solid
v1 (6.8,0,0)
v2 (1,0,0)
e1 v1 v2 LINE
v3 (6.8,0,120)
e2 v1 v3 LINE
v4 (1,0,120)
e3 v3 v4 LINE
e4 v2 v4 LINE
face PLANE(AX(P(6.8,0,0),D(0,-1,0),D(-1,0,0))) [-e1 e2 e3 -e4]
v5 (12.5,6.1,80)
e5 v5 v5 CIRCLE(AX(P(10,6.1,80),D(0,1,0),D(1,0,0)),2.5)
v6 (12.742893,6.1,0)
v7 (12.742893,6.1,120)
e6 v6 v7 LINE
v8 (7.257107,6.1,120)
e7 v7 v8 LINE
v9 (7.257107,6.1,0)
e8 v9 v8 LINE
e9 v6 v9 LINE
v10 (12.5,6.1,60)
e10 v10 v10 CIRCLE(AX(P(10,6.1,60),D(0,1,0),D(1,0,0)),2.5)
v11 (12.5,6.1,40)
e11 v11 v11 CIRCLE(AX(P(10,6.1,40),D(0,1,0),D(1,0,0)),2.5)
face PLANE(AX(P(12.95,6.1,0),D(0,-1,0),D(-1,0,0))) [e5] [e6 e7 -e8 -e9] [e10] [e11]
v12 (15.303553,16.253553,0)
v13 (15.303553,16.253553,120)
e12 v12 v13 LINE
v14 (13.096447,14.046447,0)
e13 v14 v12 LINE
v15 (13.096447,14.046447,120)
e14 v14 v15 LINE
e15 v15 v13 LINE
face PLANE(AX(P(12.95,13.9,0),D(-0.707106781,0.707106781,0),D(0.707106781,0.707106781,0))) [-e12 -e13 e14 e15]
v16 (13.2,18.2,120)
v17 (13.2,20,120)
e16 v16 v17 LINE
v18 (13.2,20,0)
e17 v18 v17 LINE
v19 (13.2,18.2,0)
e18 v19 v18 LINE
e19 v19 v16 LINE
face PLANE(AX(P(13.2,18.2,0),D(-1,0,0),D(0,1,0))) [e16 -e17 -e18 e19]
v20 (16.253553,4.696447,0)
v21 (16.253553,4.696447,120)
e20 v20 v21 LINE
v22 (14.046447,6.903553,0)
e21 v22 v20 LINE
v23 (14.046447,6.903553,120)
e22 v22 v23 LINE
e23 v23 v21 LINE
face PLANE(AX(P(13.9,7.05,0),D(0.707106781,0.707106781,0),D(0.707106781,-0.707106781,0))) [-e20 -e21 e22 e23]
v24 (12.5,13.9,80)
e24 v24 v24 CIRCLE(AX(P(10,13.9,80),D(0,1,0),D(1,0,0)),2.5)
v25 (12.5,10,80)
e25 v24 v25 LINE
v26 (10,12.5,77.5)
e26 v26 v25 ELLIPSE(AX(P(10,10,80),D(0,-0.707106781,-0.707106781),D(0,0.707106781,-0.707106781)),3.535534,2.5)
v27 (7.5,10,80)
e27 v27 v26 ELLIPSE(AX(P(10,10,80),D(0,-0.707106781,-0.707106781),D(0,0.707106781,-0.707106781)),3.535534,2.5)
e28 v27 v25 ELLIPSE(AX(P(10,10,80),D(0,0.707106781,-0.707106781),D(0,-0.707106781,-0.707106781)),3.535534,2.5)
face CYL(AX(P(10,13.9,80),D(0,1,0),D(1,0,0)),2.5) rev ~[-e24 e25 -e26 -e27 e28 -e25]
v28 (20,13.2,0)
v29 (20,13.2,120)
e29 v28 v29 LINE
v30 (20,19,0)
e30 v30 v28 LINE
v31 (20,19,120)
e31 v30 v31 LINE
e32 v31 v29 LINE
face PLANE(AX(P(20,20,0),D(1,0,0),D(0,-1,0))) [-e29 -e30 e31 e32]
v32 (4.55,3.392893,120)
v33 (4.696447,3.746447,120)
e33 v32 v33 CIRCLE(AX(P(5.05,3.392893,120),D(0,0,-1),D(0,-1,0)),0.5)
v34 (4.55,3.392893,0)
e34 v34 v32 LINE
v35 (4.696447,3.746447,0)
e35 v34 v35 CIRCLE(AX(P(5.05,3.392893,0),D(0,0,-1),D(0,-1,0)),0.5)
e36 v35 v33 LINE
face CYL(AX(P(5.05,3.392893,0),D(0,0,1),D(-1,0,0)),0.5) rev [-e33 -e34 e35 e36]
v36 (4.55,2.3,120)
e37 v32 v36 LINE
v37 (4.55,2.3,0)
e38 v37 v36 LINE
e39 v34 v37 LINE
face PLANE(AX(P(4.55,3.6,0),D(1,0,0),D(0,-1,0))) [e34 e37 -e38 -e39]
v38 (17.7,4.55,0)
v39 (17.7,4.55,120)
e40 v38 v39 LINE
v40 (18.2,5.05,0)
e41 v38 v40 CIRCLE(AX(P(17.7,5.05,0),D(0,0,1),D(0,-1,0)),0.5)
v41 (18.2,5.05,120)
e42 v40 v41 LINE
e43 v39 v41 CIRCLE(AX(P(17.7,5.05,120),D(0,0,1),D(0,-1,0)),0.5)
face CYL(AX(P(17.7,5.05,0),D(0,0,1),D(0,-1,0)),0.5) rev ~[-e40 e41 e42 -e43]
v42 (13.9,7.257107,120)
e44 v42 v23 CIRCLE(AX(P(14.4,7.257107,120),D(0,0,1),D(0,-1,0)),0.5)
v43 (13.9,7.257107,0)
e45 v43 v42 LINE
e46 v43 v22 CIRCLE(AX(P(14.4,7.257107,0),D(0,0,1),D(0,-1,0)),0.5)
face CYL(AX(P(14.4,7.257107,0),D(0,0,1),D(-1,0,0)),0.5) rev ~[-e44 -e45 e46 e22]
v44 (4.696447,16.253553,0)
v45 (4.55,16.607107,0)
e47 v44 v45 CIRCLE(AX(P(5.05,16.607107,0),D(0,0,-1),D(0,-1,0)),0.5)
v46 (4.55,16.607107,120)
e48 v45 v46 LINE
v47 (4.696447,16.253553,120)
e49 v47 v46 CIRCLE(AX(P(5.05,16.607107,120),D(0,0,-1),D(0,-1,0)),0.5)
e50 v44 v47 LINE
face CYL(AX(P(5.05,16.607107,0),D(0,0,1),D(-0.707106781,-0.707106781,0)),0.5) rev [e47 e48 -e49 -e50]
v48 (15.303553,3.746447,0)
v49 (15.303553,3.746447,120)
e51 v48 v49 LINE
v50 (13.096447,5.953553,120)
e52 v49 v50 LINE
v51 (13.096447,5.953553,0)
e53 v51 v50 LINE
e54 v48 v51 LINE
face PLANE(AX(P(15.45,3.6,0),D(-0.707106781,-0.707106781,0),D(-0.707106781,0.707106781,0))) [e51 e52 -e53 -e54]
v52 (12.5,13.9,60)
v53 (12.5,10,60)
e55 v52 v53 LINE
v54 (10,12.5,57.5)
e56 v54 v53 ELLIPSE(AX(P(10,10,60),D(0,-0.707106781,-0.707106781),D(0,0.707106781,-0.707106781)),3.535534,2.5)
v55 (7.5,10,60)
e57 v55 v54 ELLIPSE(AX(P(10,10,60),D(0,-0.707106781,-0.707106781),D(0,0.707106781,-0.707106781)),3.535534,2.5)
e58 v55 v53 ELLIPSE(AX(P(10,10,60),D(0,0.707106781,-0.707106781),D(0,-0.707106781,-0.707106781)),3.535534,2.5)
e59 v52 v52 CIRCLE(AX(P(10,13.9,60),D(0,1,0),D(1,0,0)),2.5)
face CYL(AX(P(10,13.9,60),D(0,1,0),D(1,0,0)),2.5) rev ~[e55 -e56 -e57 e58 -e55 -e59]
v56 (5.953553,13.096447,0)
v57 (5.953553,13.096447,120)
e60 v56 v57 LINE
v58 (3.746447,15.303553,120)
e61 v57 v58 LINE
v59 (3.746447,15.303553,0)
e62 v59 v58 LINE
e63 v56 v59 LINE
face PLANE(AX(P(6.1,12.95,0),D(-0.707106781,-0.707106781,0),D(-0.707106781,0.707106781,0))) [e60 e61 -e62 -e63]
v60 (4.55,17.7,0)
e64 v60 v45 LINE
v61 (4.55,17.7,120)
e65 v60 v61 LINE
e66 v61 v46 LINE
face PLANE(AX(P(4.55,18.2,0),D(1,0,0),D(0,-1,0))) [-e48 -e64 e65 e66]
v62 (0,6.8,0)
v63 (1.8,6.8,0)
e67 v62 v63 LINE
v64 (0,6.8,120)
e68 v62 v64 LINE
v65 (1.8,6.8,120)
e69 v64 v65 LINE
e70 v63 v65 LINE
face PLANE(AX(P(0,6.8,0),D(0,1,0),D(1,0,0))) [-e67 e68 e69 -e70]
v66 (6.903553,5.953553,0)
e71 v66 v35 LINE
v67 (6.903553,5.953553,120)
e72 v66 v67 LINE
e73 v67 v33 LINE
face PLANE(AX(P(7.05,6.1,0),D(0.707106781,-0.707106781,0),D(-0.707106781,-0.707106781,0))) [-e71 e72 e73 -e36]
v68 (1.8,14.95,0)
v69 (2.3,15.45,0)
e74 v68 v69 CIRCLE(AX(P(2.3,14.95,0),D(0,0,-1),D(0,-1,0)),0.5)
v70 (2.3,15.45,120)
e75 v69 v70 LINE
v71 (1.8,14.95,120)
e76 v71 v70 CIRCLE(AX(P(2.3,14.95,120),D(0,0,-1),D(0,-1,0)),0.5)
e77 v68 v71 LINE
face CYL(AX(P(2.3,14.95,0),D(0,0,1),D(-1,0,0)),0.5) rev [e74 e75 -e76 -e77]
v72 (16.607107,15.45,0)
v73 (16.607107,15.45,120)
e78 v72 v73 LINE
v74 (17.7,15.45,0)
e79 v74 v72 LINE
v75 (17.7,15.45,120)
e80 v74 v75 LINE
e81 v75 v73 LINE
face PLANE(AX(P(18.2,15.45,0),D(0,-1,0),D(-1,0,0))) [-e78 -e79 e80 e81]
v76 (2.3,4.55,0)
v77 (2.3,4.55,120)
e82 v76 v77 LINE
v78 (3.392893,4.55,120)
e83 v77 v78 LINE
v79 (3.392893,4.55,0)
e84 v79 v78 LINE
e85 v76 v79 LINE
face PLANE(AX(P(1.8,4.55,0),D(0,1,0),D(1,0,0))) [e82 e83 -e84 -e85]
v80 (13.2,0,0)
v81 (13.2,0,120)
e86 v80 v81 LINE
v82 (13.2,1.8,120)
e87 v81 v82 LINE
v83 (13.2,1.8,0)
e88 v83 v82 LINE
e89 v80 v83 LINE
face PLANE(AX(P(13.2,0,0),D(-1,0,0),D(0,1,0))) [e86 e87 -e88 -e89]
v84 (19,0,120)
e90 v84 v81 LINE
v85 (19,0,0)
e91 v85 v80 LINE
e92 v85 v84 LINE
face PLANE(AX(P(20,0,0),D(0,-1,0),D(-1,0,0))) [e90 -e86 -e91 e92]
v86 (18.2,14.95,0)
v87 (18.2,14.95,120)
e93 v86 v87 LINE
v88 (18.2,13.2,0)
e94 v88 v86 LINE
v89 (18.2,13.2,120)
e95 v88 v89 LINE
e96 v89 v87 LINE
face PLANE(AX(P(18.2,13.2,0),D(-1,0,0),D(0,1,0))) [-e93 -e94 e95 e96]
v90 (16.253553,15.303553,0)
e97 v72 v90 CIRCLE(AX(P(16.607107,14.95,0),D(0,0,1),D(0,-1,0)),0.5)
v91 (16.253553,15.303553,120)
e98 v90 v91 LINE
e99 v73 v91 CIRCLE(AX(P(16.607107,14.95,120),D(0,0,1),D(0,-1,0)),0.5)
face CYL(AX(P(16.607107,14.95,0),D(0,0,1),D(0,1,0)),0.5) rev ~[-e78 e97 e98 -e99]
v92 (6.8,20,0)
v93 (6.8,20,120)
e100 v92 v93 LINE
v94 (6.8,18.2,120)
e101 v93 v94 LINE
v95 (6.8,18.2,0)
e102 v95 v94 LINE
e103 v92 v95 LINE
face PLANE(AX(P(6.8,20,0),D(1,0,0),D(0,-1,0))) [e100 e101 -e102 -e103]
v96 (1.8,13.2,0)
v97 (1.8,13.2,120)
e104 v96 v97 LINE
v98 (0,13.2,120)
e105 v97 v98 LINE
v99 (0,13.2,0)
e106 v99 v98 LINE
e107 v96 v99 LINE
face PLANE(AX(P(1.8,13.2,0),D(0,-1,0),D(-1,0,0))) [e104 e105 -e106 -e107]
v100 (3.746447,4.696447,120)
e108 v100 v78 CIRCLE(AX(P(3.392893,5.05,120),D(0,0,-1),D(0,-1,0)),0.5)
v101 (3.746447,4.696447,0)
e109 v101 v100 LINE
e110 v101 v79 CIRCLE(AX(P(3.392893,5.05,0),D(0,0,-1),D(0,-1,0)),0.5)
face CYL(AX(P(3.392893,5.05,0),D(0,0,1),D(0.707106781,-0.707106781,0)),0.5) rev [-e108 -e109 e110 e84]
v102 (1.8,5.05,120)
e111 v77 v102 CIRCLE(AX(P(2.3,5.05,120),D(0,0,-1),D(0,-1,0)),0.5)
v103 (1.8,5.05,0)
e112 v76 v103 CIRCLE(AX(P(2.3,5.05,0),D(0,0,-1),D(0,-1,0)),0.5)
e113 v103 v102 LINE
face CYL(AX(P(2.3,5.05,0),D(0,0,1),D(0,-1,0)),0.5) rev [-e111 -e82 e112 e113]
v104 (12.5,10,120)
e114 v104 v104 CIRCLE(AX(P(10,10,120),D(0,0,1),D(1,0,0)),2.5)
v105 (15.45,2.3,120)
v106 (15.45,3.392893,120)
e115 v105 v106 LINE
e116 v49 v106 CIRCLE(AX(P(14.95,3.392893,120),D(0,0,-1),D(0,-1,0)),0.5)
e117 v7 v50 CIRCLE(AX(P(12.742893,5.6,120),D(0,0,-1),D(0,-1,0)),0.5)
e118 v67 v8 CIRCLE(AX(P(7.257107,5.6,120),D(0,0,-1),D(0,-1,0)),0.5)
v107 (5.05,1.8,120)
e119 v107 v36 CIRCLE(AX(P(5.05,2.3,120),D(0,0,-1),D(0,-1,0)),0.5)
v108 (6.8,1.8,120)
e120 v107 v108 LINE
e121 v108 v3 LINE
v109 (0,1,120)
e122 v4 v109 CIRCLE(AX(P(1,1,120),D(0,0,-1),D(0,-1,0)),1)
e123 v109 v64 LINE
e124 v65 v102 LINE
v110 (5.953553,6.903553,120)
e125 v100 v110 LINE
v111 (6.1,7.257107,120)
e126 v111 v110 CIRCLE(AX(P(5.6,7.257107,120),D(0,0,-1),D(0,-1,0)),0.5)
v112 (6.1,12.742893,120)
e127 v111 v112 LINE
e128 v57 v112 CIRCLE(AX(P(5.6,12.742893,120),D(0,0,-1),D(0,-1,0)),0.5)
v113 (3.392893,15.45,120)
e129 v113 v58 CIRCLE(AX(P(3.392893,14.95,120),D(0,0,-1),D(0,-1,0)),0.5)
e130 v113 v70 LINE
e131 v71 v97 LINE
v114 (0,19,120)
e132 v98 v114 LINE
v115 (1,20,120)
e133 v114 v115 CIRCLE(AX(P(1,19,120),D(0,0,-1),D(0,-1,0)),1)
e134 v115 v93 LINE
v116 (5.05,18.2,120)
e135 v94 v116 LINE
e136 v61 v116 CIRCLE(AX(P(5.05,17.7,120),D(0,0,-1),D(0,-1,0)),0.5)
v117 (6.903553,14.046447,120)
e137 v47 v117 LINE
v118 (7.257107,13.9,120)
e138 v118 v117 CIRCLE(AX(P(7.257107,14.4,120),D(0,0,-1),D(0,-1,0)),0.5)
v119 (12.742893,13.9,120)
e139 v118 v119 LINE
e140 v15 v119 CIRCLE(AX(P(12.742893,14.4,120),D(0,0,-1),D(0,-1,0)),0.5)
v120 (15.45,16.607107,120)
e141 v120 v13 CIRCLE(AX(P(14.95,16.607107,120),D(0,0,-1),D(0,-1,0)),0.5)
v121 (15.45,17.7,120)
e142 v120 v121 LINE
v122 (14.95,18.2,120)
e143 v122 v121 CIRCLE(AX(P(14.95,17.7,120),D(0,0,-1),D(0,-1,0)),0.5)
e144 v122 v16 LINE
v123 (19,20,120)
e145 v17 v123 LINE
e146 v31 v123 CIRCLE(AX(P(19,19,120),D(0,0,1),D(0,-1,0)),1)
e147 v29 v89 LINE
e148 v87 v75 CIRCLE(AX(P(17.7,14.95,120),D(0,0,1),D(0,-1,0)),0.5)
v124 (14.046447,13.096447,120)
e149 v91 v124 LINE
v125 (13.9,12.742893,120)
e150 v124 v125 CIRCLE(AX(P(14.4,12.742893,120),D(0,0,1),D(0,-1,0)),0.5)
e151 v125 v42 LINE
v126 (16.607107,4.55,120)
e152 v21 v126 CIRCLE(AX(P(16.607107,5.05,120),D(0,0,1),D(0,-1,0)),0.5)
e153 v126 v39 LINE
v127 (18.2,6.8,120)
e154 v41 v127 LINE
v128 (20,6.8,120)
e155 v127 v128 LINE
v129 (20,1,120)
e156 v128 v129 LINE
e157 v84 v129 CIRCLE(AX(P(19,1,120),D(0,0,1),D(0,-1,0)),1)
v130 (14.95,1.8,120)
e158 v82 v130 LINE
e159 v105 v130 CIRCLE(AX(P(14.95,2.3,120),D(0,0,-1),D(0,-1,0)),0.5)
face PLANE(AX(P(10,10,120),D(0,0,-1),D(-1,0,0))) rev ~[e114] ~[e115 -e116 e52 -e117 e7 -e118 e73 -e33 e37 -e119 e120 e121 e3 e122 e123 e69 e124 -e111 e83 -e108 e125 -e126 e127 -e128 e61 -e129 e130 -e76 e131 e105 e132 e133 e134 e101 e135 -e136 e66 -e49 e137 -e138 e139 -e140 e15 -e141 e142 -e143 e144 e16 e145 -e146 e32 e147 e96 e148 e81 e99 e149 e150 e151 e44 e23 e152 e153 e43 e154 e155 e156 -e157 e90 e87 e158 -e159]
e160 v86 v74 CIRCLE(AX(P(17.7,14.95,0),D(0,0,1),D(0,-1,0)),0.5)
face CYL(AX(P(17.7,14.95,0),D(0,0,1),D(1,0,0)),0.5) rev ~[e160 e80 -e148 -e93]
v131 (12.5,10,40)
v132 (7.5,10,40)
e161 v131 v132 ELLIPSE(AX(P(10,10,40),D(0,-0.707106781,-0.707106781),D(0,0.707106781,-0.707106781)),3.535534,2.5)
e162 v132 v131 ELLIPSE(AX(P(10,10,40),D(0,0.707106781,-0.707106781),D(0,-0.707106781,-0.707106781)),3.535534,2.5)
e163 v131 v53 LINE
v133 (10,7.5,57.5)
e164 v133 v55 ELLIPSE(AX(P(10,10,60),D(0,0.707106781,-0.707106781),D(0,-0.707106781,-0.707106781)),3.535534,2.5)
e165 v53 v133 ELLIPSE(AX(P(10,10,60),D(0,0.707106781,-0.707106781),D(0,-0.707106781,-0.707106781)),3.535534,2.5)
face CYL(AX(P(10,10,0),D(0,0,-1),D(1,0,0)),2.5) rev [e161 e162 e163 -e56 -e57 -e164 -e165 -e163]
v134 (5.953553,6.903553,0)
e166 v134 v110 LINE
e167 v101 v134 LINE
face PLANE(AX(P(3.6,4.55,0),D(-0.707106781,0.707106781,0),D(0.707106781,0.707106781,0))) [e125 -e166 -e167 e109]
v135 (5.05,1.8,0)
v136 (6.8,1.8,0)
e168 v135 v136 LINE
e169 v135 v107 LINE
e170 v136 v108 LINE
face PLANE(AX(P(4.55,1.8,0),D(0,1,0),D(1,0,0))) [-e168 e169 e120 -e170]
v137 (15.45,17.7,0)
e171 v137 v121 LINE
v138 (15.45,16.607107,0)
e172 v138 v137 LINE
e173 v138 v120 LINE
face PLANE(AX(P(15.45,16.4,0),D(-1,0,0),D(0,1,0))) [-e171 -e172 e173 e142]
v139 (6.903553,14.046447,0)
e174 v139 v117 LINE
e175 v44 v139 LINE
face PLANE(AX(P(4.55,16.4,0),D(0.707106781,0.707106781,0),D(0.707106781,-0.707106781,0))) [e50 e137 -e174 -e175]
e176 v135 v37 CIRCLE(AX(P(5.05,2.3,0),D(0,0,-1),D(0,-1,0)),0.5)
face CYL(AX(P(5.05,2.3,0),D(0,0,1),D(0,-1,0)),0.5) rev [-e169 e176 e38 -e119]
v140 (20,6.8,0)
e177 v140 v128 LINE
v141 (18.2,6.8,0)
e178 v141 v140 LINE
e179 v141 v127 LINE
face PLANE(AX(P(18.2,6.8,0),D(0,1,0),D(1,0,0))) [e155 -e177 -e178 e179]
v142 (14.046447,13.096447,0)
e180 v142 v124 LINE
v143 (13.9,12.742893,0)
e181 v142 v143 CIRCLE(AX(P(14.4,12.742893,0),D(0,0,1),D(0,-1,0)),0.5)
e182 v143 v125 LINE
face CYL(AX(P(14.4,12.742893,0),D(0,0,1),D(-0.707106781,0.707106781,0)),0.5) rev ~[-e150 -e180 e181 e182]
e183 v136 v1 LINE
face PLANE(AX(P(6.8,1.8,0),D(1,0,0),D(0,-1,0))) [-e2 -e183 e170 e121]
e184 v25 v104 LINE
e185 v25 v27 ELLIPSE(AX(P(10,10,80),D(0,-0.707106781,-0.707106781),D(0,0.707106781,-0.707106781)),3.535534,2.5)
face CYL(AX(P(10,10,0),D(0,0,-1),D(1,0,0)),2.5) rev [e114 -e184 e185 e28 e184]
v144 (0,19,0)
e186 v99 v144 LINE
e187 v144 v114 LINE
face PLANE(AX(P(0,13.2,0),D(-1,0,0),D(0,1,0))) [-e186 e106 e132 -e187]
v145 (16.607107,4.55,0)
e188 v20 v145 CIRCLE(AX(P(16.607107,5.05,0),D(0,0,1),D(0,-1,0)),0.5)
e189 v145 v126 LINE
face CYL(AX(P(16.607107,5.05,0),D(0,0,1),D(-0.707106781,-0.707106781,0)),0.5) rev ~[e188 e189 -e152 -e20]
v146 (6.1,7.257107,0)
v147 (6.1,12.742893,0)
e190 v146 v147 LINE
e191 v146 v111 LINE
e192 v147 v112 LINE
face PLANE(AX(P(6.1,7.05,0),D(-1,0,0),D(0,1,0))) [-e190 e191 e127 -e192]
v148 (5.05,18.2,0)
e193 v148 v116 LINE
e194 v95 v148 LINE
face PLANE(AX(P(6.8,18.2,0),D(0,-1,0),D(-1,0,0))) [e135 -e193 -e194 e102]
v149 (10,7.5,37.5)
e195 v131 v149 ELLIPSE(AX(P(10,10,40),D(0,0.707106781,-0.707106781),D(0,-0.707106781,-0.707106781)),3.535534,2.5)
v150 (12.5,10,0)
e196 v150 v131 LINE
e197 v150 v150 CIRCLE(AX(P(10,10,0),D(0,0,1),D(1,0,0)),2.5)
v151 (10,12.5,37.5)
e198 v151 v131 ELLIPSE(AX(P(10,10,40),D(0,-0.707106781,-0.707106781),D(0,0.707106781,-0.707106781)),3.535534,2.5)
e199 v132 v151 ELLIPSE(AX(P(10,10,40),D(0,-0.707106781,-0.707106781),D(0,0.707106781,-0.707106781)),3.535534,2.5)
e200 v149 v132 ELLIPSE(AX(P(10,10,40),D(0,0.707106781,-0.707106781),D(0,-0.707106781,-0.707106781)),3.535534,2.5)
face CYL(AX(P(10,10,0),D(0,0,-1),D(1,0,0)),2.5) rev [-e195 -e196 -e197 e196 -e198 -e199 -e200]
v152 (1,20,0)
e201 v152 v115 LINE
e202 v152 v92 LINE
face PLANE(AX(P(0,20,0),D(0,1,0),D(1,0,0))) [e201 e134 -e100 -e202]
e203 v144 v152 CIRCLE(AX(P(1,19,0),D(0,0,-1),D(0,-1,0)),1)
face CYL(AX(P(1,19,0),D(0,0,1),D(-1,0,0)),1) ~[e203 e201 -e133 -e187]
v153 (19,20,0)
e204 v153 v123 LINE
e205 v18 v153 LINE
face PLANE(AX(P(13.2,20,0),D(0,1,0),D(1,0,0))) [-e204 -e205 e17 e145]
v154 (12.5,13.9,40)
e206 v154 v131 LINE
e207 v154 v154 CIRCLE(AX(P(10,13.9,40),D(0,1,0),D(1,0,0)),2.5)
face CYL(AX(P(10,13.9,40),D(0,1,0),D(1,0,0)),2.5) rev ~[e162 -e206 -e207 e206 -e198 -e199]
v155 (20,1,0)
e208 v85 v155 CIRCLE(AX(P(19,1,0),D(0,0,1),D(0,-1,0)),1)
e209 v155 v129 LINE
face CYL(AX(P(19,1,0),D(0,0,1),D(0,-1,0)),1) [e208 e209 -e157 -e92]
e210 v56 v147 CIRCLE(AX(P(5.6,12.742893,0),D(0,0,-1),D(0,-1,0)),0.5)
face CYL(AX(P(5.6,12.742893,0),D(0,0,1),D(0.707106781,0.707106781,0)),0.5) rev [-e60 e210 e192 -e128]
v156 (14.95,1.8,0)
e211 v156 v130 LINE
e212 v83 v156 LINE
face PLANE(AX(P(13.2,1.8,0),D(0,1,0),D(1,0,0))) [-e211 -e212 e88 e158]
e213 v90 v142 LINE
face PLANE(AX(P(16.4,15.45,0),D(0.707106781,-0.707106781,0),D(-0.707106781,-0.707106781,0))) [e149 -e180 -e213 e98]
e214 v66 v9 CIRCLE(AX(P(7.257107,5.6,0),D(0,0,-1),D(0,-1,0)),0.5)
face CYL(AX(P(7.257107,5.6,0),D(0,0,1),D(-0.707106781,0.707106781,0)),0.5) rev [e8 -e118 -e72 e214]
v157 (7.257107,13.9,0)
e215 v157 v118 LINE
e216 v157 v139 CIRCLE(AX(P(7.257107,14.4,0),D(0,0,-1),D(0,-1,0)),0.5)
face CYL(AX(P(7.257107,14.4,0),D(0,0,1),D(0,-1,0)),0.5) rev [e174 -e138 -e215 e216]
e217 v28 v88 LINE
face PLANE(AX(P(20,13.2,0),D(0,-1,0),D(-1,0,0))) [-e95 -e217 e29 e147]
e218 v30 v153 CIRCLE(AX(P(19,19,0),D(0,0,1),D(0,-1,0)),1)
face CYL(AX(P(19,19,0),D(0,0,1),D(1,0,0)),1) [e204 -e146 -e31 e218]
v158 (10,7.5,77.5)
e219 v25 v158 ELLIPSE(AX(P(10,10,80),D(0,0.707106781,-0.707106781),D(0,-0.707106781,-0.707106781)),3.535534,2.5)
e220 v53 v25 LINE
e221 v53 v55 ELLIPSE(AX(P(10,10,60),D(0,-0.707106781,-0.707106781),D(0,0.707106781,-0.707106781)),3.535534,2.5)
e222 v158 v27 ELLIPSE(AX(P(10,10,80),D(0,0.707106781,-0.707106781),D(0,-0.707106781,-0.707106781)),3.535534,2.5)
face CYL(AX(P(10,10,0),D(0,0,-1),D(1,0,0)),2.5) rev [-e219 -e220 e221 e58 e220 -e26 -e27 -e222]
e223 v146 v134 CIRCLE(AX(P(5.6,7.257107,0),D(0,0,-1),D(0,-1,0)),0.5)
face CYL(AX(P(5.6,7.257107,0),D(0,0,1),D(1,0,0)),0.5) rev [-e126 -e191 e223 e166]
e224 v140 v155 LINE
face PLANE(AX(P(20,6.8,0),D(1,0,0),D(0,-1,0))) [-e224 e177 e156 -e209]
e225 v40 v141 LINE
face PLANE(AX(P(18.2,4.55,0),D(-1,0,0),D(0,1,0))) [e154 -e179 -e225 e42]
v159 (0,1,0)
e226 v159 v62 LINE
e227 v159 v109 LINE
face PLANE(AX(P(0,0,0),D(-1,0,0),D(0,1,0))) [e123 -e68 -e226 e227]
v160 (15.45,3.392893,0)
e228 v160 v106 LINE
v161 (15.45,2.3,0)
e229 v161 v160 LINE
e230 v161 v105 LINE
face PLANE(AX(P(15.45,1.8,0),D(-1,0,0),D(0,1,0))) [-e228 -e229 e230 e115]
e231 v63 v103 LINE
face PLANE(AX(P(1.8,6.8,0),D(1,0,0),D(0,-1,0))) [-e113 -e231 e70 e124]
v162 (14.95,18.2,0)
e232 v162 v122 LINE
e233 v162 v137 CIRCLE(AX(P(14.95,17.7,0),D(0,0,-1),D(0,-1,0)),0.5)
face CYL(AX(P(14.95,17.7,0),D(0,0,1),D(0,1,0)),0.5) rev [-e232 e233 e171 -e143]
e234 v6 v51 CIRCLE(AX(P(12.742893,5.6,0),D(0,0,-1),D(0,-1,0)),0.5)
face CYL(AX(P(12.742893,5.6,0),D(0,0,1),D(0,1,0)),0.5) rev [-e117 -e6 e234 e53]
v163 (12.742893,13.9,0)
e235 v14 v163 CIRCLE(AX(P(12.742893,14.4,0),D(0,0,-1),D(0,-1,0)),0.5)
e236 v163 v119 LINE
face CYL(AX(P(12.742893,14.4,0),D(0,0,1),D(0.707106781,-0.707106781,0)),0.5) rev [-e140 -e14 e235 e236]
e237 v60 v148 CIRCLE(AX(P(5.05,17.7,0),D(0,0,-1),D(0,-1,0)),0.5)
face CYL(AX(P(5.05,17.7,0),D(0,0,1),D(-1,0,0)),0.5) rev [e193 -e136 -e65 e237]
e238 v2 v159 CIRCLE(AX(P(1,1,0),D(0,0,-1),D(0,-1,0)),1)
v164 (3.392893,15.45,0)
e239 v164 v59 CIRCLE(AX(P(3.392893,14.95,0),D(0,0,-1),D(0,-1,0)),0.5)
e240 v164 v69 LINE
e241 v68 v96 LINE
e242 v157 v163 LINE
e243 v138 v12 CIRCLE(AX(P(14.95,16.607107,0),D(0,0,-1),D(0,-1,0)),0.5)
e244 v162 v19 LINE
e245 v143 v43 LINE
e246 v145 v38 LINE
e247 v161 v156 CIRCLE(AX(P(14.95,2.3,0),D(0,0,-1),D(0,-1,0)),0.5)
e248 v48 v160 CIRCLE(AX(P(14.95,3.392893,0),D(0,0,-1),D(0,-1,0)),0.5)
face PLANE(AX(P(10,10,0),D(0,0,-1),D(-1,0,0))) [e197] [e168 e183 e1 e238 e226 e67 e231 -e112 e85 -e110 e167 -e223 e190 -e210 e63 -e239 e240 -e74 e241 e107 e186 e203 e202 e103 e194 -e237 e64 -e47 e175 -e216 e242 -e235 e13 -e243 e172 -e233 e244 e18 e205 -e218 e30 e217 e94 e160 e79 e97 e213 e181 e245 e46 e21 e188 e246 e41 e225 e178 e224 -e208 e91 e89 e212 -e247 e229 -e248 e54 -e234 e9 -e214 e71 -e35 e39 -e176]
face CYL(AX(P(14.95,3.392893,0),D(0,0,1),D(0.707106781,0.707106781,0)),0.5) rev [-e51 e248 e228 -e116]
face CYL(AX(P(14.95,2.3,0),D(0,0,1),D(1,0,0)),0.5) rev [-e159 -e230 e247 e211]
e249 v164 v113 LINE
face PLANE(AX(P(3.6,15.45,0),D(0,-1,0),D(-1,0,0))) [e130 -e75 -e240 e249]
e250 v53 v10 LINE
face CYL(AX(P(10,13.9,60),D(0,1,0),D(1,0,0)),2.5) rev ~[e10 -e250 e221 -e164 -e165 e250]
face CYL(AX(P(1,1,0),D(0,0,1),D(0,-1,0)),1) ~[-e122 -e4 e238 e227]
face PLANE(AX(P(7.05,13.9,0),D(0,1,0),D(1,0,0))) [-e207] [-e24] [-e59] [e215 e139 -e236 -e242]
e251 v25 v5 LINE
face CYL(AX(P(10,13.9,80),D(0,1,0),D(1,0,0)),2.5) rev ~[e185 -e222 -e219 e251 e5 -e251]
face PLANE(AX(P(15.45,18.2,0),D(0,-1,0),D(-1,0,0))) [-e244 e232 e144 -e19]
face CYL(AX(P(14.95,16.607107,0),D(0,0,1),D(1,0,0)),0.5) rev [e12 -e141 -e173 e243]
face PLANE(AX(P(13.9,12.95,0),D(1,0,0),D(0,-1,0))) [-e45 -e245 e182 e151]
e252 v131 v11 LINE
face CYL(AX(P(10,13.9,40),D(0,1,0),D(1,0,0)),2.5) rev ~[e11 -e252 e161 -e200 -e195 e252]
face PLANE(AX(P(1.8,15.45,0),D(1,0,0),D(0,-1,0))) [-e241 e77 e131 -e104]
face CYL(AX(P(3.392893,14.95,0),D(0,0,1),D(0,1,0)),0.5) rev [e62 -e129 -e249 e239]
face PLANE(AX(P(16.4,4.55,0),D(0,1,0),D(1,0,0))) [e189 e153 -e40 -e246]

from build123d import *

# Parameters (mm, degrees)
SKETCH1_R           = 2.5
BOSS_EXTRUDE1_DEPTH = 120
FILLET1_R           = 1
FILLET2_R           = 0.5
FILLET3_R           = 0.5
FILLET4_R           = 0.5
FILLET5_R           = 0.5
SKETCH2_R           = 2.5
CUT_EXTRUDE1_DEPTH  = 8


with BuildPart() as part:
    # Sketch1 → Boss-Extrude1 (new body)
    with BuildSketch(Plane.XY):
        Polygon((13.2, 0), (13.2, 1.8), (15.45, 1.8), (15.45, 3.6), (12.95, 6.1), (7.05, 6.1), (4.55, 3.6), (4.55, 1.8), (6.8, 1.8), (6.8, 0), (0, 0), (0, 6.8), (1.8, 6.8), (1.8, 4.55), (3.6, 4.55), (6.1, 7.05), (6.1, 12.95), (3.6, 15.45), (1.8, 15.45), (1.8, 13.2), (0, 13.2), (0, 20), (6.8, 20), (6.8, 18.2), (4.55, 18.2), (4.55, 16.4), (7.05, 13.9), (12.95, 13.9), (15.45, 16.4), (15.45, 18.2), (13.2, 18.2), (13.2, 20), (20, 20), (20, 13.2), (18.2, 13.2), (18.2, 15.45), (16.4, 15.45), (13.9, 12.95), (13.9, 7.05), (16.4, 4.55), (18.2, 4.55), (18.2, 6.8), (20, 6.8), (20, 0), align=None)
        with Locations((10, 10)):
            Circle(SKETCH1_R, mode=Mode.SUBTRACT)
    extrude(amount=BOSS_EXTRUDE1_DEPTH)

    # Fillet1
    fillet1_edges = [part.edges().sort_by_distance(p)[0] for p in [
        (0, 0, 60),
        (0, 20, 60),
        (20, 20, 60),
        (20, 0, 60),
    ]]
    fillet(fillet1_edges, radius=FILLET1_R)

    # Fillet2
    fillet2_edges = [part.edges().sort_by_distance(p)[0] for p in [
        (4.55, 18.2, 60),
        (4.55, 16.4, 60),
        (7.05, 13.9, 60),
        (12.95, 13.9, 60),
        (15.45, 16.4, 60),
        (15.45, 18.2, 60),
    ]]
    fillet(fillet2_edges, radius=FILLET2_R)

    # Fillet3
    fillet3_edges = [part.edges().sort_by_distance(p)[0] for p in [
        (18.2, 15.45, 60),
        (16.4, 15.45, 60),
        (13.9, 12.95, 60),
        (13.9, 7.05, 60),
        (16.4, 4.55, 60),
        (18.2, 4.55, 60),
    ]]
    fillet(fillet3_edges, radius=FILLET3_R)

    # Fillet4
    fillet4_edges = [part.edges().sort_by_distance(p)[0] for p in [
        (1.8, 4.55, 60),
        (3.6, 4.55, 60),
        (6.1, 7.05, 60),
        (6.1, 12.95, 60),
        (3.6, 15.45, 60),
        (1.8, 15.45, 60),
    ]]
    fillet(fillet4_edges, radius=FILLET4_R)

    # Fillet5
    fillet5_edges = [part.edges().sort_by_distance(p)[0] for p in [
        (15.45, 1.8, 60),
        (15.45, 3.6, 60),
        (12.95, 6.1, 60),
        (7.05, 6.1, 60),
        (4.55, 3.6, 60),
        (4.55, 1.8, 60),
    ]]
    fillet(fillet5_edges, radius=FILLET5_R)

    # Sketch2 → Cut-Extrude1 (cut)
    with BuildSketch(Plane(origin=(0, 13.9, 0), x_dir=(1, 0, 0), z_dir=(0, 1, 0))):
        with Locations((10, -60)):
            Circle(SKETCH2_R)
        with Locations((10, -80)):
            Circle(SKETCH2_R)
        with Locations((10, -40)):
            Circle(SKETCH2_R)
    extrude(amount=-CUT_EXTRUDE1_DEPTH, mode=Mode.SUBTRACT)


solid = part.part
